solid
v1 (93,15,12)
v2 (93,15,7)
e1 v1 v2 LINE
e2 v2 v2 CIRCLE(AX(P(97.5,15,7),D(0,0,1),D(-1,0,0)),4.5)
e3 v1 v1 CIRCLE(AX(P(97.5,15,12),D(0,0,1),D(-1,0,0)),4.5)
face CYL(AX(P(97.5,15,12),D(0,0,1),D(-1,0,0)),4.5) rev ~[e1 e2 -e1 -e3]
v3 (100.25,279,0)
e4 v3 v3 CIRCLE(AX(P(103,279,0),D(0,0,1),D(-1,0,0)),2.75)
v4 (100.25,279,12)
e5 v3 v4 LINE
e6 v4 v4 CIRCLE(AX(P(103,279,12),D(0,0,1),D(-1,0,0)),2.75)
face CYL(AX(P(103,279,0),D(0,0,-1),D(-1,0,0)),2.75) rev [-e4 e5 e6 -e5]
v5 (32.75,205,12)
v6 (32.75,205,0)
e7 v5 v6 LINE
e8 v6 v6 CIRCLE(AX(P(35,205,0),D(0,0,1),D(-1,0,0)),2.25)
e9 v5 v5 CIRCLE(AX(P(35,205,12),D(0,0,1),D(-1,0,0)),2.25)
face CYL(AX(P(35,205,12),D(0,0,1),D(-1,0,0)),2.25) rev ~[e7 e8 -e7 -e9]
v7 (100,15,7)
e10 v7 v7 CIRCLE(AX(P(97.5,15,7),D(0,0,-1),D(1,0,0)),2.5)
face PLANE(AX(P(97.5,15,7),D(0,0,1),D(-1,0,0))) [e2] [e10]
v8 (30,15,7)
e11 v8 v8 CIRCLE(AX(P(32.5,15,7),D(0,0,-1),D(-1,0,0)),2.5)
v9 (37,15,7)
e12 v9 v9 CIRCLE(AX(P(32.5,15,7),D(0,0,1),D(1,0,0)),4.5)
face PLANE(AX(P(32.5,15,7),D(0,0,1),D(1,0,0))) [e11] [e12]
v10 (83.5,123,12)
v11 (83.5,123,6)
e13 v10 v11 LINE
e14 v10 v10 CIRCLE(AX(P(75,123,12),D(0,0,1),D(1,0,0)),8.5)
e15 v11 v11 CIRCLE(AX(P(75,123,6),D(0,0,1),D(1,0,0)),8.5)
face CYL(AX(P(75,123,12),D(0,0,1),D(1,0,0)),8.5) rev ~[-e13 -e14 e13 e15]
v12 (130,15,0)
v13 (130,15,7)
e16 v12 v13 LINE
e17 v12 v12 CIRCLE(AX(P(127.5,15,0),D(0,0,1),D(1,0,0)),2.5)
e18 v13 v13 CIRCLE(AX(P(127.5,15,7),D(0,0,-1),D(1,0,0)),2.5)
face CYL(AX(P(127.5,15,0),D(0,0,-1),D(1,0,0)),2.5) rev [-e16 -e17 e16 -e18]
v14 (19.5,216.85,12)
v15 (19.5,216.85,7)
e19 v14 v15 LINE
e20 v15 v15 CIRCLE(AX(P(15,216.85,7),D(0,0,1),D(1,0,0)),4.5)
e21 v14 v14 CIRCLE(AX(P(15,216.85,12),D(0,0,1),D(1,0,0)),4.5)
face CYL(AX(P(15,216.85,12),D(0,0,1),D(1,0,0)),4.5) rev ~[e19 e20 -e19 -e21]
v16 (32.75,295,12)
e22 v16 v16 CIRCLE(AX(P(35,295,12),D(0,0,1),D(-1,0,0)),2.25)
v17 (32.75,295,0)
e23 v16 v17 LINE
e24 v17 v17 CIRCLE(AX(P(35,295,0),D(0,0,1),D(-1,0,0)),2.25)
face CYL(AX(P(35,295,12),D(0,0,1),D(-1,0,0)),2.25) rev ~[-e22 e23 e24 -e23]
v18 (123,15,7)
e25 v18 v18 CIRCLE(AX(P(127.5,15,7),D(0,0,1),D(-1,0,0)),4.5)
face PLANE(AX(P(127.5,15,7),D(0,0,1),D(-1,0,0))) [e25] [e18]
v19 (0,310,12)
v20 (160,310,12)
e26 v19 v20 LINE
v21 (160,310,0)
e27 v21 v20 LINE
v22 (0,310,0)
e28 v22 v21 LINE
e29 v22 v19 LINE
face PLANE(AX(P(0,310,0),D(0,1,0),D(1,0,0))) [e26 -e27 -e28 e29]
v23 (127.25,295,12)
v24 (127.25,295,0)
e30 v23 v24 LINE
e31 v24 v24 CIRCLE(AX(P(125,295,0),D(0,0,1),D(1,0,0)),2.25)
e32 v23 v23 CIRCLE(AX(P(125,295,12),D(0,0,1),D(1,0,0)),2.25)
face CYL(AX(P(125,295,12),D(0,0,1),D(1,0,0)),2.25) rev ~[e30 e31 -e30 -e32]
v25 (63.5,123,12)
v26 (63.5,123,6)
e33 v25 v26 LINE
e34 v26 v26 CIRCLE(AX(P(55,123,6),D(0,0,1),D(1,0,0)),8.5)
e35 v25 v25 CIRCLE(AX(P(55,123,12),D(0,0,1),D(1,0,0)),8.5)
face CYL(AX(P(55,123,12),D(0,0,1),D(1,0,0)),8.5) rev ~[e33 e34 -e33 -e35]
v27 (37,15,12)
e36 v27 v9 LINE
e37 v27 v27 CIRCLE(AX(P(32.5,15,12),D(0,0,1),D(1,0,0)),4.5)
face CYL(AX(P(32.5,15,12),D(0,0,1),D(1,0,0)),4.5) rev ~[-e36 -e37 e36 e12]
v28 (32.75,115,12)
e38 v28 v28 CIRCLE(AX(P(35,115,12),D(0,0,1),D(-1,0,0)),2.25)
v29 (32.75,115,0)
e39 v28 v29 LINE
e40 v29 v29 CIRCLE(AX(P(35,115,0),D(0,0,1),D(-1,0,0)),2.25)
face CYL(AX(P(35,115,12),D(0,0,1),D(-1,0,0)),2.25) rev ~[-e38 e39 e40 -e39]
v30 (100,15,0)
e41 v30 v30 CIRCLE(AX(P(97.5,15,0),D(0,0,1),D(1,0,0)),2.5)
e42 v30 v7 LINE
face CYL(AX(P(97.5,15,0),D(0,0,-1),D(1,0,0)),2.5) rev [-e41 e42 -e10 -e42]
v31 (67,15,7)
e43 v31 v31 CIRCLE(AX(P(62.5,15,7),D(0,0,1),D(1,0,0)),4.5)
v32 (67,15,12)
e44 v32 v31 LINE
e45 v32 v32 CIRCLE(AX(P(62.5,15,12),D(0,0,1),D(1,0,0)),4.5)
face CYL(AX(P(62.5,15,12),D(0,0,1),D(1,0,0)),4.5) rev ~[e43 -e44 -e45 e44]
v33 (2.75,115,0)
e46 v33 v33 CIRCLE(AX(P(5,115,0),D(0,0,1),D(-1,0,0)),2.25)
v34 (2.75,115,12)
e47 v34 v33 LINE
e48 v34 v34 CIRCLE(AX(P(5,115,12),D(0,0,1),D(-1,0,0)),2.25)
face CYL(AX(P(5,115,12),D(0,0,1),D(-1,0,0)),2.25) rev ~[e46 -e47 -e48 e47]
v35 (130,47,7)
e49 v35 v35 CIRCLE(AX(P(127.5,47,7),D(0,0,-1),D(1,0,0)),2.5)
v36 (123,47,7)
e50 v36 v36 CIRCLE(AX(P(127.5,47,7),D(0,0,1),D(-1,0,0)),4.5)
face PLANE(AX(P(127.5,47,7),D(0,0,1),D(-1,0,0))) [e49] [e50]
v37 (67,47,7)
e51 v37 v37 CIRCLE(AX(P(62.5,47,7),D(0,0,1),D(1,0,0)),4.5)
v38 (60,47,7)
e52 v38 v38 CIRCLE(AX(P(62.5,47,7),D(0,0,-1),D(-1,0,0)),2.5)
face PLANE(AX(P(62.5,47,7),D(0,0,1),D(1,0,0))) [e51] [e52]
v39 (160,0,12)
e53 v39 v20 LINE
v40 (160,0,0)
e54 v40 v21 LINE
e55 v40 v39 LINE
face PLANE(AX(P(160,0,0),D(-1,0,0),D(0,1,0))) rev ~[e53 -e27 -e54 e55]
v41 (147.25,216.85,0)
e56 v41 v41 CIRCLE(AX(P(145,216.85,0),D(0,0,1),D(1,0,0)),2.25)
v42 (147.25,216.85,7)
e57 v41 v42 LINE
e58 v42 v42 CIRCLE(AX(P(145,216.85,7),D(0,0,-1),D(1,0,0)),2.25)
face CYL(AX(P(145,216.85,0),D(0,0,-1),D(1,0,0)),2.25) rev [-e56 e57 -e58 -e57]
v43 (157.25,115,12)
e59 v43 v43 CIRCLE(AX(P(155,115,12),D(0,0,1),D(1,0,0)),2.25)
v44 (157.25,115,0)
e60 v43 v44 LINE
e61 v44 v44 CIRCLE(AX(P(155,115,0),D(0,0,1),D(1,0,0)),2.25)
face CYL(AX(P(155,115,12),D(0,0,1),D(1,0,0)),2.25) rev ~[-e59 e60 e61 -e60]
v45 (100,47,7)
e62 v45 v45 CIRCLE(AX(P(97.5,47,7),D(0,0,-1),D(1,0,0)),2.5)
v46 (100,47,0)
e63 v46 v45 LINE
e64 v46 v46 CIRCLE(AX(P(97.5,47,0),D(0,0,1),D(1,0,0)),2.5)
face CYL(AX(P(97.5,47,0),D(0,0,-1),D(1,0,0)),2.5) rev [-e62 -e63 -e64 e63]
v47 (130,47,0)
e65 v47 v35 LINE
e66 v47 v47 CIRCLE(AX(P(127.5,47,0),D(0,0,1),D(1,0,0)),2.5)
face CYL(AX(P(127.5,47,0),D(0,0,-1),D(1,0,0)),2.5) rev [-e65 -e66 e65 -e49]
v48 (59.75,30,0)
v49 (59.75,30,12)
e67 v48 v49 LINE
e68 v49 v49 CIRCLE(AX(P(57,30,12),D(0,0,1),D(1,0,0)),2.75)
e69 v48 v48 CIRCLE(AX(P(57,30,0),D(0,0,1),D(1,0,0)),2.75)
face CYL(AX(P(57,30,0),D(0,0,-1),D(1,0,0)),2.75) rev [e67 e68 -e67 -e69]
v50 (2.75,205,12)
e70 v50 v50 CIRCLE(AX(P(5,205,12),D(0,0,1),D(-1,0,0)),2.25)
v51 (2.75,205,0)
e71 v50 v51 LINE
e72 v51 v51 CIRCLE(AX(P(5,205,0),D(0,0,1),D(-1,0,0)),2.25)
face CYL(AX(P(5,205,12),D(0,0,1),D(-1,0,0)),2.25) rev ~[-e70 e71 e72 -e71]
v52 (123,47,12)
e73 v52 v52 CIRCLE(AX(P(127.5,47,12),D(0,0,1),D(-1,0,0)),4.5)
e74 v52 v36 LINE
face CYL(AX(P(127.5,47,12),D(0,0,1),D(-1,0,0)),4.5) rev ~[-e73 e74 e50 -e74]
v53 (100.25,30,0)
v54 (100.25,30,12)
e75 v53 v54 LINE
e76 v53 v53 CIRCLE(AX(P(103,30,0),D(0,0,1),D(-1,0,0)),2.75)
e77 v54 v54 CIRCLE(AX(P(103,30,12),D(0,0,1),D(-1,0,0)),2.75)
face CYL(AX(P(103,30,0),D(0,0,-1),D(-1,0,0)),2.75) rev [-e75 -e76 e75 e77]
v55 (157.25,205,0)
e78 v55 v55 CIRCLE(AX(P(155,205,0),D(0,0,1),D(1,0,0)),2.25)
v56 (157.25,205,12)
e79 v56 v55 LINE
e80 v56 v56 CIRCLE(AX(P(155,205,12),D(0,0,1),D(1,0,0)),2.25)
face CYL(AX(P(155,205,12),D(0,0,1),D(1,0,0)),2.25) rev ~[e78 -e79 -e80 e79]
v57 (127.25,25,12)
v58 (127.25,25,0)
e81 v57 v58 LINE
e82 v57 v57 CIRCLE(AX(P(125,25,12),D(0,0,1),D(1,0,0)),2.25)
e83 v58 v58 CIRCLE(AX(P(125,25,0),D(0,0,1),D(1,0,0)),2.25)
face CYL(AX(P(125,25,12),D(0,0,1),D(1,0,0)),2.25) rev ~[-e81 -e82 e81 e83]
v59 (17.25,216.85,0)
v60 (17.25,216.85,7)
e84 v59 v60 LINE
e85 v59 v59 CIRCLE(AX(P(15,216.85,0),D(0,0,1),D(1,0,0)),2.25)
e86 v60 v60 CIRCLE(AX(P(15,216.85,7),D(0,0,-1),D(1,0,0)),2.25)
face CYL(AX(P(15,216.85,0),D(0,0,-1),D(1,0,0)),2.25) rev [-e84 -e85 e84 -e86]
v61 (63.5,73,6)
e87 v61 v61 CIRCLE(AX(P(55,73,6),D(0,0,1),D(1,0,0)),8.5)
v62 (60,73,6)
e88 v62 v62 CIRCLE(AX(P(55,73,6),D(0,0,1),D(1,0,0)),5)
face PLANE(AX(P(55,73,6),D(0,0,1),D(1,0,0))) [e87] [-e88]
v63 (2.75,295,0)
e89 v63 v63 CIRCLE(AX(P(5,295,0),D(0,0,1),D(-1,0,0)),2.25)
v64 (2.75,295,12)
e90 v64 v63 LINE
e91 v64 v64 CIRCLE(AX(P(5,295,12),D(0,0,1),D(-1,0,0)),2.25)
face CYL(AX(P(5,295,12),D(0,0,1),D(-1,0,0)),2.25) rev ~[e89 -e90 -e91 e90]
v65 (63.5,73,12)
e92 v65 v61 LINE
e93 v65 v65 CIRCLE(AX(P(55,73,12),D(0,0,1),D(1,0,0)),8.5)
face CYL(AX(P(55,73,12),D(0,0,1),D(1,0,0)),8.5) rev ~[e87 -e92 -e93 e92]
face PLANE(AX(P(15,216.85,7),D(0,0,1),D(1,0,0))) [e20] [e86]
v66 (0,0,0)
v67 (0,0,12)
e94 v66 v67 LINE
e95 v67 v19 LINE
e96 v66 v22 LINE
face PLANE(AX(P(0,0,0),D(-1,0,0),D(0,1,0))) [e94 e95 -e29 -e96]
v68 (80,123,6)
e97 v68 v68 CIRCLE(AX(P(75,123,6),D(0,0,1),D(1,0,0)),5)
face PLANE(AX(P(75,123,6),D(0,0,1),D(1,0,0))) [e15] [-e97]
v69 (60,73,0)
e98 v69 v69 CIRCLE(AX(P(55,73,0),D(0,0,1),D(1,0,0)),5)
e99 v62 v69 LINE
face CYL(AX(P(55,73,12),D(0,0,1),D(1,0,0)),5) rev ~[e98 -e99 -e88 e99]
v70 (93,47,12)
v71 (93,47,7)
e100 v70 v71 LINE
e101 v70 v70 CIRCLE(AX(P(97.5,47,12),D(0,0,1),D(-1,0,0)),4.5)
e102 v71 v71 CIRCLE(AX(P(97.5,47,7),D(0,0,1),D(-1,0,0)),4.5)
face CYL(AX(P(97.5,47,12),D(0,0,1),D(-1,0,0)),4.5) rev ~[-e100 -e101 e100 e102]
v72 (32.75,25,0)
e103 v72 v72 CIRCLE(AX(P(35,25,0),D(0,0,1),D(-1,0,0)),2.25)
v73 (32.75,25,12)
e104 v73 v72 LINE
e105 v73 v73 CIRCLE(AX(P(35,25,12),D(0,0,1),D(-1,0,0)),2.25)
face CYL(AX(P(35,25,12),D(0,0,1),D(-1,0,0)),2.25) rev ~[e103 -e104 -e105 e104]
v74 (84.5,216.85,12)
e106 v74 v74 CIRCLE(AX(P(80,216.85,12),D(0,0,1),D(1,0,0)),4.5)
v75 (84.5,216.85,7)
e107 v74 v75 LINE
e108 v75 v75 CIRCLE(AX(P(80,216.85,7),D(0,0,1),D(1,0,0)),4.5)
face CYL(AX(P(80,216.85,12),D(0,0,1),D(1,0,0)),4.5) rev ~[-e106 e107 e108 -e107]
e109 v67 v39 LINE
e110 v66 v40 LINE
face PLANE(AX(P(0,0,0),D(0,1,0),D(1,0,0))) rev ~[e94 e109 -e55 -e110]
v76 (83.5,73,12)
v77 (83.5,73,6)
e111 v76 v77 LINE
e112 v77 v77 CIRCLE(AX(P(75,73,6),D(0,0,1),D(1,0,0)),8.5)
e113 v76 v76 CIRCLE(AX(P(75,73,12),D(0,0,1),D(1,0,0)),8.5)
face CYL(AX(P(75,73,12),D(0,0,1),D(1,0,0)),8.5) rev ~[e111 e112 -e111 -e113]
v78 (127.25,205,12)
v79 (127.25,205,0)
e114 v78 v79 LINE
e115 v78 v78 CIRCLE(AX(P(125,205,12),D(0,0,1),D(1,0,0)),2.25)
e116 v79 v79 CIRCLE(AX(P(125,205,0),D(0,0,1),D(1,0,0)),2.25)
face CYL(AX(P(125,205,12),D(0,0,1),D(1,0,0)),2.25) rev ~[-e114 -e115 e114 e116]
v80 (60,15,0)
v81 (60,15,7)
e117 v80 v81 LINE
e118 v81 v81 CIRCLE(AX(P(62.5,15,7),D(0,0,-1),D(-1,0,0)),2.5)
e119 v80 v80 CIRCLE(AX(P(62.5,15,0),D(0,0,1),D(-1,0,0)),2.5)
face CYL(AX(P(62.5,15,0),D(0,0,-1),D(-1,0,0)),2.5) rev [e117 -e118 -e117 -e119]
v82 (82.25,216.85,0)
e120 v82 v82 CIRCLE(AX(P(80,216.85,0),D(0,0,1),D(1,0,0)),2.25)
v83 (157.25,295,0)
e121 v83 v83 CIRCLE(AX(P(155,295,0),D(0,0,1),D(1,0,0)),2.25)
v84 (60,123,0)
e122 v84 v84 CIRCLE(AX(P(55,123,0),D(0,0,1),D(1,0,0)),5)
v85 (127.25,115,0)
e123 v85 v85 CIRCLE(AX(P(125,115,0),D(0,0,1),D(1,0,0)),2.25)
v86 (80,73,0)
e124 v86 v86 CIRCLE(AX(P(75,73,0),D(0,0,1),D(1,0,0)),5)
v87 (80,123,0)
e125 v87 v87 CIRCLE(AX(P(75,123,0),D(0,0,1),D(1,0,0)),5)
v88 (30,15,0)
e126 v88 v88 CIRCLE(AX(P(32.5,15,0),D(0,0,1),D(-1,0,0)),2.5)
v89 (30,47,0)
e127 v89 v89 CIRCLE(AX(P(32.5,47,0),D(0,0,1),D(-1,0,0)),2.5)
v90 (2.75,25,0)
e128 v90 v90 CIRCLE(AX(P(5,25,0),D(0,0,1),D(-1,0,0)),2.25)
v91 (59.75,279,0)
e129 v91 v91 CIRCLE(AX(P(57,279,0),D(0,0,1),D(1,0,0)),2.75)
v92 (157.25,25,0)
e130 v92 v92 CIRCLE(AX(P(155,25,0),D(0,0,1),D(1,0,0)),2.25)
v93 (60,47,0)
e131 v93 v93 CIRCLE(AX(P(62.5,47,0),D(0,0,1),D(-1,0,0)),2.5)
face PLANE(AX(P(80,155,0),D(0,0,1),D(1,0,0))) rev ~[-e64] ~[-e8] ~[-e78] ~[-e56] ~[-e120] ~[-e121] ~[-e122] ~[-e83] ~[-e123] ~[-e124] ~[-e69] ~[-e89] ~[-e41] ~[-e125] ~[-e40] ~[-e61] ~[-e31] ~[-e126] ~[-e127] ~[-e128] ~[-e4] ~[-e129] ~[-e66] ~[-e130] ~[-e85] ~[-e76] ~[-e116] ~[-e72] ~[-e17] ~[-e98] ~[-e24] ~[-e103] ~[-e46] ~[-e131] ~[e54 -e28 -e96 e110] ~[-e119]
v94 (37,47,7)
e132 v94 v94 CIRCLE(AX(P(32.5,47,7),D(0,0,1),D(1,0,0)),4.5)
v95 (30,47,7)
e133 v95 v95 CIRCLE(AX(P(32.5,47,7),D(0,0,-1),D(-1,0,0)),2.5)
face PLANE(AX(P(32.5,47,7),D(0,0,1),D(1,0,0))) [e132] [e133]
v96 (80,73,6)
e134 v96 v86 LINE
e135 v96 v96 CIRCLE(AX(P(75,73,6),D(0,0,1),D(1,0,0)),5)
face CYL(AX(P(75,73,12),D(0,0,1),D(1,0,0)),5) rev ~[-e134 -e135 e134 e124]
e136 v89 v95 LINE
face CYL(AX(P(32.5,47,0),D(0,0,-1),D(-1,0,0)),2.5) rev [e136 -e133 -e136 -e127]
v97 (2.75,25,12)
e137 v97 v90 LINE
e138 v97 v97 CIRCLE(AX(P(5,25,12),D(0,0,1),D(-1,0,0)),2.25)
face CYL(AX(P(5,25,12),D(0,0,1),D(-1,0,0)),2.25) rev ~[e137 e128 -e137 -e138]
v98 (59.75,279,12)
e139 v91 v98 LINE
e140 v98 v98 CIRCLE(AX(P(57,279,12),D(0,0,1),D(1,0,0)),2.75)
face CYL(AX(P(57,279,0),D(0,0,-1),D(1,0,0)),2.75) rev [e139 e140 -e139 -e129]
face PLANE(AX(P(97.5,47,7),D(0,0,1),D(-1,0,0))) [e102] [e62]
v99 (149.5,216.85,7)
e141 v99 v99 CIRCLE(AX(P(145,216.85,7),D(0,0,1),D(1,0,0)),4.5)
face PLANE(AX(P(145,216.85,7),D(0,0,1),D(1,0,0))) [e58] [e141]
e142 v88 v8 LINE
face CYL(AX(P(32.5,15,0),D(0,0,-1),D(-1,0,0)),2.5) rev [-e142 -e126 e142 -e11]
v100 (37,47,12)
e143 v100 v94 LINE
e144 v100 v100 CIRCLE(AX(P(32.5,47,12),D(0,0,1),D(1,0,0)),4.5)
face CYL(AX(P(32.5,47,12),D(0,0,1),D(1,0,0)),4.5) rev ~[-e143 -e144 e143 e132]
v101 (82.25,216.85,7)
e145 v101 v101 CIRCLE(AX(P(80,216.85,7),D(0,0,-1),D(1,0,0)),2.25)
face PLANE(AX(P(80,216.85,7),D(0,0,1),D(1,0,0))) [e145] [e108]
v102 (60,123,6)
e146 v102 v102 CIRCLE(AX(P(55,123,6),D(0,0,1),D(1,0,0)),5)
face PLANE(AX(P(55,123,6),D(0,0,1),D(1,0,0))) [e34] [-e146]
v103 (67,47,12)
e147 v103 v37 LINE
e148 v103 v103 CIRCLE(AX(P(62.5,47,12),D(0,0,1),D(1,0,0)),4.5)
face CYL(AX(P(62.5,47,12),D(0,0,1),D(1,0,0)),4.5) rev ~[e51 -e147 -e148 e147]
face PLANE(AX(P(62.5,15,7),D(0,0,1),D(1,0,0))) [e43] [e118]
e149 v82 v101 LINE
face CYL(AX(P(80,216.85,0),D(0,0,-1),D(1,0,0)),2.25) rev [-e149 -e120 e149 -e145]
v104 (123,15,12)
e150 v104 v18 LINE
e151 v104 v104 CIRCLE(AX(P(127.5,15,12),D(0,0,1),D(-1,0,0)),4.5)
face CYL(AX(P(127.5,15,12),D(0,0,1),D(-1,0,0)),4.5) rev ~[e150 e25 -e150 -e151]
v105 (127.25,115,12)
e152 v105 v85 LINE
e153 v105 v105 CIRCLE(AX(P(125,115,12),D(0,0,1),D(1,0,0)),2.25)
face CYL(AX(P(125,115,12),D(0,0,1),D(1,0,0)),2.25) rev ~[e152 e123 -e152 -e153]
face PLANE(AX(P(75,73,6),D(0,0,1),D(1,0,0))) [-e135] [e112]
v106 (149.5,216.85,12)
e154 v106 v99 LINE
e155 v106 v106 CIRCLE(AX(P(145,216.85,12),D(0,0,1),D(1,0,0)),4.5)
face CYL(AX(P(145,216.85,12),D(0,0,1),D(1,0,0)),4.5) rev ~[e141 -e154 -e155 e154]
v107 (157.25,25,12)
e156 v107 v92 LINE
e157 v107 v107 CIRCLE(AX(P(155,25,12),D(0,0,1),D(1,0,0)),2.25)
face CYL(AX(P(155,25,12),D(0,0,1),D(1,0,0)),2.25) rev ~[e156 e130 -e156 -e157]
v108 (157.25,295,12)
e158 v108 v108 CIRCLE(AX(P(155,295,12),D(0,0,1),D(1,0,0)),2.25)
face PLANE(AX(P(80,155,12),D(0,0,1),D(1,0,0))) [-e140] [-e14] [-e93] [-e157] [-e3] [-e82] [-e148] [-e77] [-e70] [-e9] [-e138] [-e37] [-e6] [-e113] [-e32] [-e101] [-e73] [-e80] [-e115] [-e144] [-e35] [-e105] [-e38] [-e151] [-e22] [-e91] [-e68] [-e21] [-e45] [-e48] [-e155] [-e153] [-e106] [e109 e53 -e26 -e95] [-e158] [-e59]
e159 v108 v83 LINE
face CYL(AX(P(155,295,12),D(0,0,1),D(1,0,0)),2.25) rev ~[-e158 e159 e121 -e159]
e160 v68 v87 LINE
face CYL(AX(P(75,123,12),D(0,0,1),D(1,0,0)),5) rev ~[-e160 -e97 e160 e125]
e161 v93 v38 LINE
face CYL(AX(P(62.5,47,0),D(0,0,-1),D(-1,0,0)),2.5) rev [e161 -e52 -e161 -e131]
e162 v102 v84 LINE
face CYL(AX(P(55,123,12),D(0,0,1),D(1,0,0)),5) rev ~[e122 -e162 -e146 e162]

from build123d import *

# Parameters (mm, degrees)
ESQUISSE1_W             = 160
ESQUISSE1_H             = 310
ESQUISSE1_R             = 2.5
ESQUISSE1_R_2           = 2.75
ESQUISSE1_R_3           = 2.25
BOSS_EXTRU_1_DEPTH      = 12
ESQUISSE2_R             = 4.5
ENL_V_MAT_EXTRU_1_DEPTH = 5
ENL_V_MAT_EXTRU_2_REACH = 351.062
ESQUISSE3_R             = 2.25
ENL_V_MAT_EXTRU_3_REACH = 351.062
ESQUISSE4_R             = 5
ESQUISSE5_R             = 8.5
ENL_V_MAT_EXTRU_4_DEPTH = 6


with BuildPart() as part:
    # Esquisse1 → Boss.-Extru.1 (new body)
    with BuildSketch(Plane.XY):
        with Locations((80, 155)):
            Rectangle(ESQUISSE1_W, ESQUISSE1_H)
        with Locations((97.5, 15)):
            Circle(ESQUISSE1_R, mode=Mode.SUBTRACT)
        with Locations((127.5, 15)):
            Circle(ESQUISSE1_R, mode=Mode.SUBTRACT)
        with Locations((97.5, 47)):
            Circle(ESQUISSE1_R, mode=Mode.SUBTRACT)
        with Locations((127.5, 47)):
            Circle(ESQUISSE1_R, mode=Mode.SUBTRACT)
        with Locations(Location((62.5, 47, 0), (0, 0, 180))):
            Circle(ESQUISSE1_R, mode=Mode.SUBTRACT)
        with Locations(Location((32.5, 47, 0), (0, 0, 180))):
            Circle(ESQUISSE1_R, mode=Mode.SUBTRACT)
        with Locations(Location((32.5, 15, 0), (0, 0, 180))):
            Circle(ESQUISSE1_R, mode=Mode.SUBTRACT)
        with Locations(Location((62.5, 15, 0), (0, 0, 180))):
            Circle(ESQUISSE1_R, mode=Mode.SUBTRACT)
        with Locations((57, 30)):
            Circle(ESQUISSE1_R_2, mode=Mode.SUBTRACT)
        with Locations(Location((103, 30, 0), (0, 0, 180))):
            Circle(ESQUISSE1_R_2, mode=Mode.SUBTRACT)
        with Locations((57, 279)):
            Circle(ESQUISSE1_R_2, mode=Mode.SUBTRACT)
        with Locations(Location((103, 279, 0), (0, 0, 180))):
            Circle(ESQUISSE1_R_2, mode=Mode.SUBTRACT)
        with Locations((15, 216.85)):
            Circle(ESQUISSE1_R_3, mode=Mode.SUBTRACT)
        with Locations((80, 216.85)):
            Circle(ESQUISSE1_R_3, mode=Mode.SUBTRACT)
        with Locations((145, 216.85)):
            Circle(ESQUISSE1_R_3, mode=Mode.SUBTRACT)
    extrude(amount=BOSS_EXTRU_1_DEPTH)

    # Esquisse2 → Enlèv. mat.-Extru.1 (cut)
    with BuildSketch(Plane.XY.offset(12)):
        with Locations((32.5, 47)):
            Circle(ESQUISSE2_R)
        with Locations((32.5, 15)):
            Circle(ESQUISSE2_R)
        with Locations((62.5, 15)):
            Circle(ESQUISSE2_R)
        with Locations((62.5, 47)):
            Circle(ESQUISSE2_R)
        with Locations(Location((127.5, 15, 0), (0, 0, 180))):
            Circle(ESQUISSE2_R)
        with Locations(Location((97.5, 15, 0), (0, 0, 180))):
            Circle(ESQUISSE2_R)
        with Locations(Location((97.5, 47, 0), (0, 0, 180))):
            Circle(ESQUISSE2_R)
        with Locations(Location((127.5, 47, 0), (0, 0, 180))):
            Circle(ESQUISSE2_R)
        with Locations((15, 216.85)):
            Circle(ESQUISSE2_R)
        with Locations((80, 216.85)):
            Circle(ESQUISSE2_R)
        with Locations((145, 216.85)):
            Circle(ESQUISSE2_R)
    extrude(amount=-ENL_V_MAT_EXTRU_1_DEPTH, mode=Mode.SUBTRACT)

    # Esquisse3 → Enlèv. mat.-Extru.2 (cut, up to next)
    with BuildSketch(Plane.XY.offset(12), mode=Mode.PRIVATE) as enl_v_mat_extru_2_sk1:
        with Locations((155, 25)):
            Circle(ESQUISSE3_R)
    enl_v_mat_extru_2_tool1 = extrude(enl_v_mat_extru_2_sk1.sketch, amount=-ENL_V_MAT_EXTRU_2_REACH, mode=Mode.PRIVATE) & part.part
    # Esquisse3 → Enlèv. mat.-Extru.2 (cut, up to next)
    with BuildSketch(Plane.XY.offset(12), mode=Mode.PRIVATE) as enl_v_mat_extru_2_sk2:
        with Locations((125, 25)):
            Circle(ESQUISSE3_R)
    enl_v_mat_extru_2_tool2 = extrude(enl_v_mat_extru_2_sk2.sketch, amount=-ENL_V_MAT_EXTRU_2_REACH, mode=Mode.PRIVATE) & part.part
    # Esquisse3 → Enlèv. mat.-Extru.2 (cut, up to next)
    with BuildSketch(Plane.XY.offset(12), mode=Mode.PRIVATE) as enl_v_mat_extru_2_sk3:
        with Locations((125, 115)):
            Circle(ESQUISSE3_R)
    enl_v_mat_extru_2_tool3 = extrude(enl_v_mat_extru_2_sk3.sketch, amount=-ENL_V_MAT_EXTRU_2_REACH, mode=Mode.PRIVATE) & part.part
    # Esquisse3 → Enlèv. mat.-Extru.2 (cut, up to next)
    with BuildSketch(Plane.XY.offset(12), mode=Mode.PRIVATE) as enl_v_mat_extru_2_sk4:
        with Locations((125, 205)):
            Circle(ESQUISSE3_R)
    enl_v_mat_extru_2_tool4 = extrude(enl_v_mat_extru_2_sk4.sketch, amount=-ENL_V_MAT_EXTRU_2_REACH, mode=Mode.PRIVATE) & part.part
    # Esquisse3 → Enlèv. mat.-Extru.2 (cut, up to next)
    with BuildSketch(Plane.XY.offset(12), mode=Mode.PRIVATE) as enl_v_mat_extru_2_sk5:
        with Locations((125, 295)):
            Circle(ESQUISSE3_R)
    enl_v_mat_extru_2_tool5 = extrude(enl_v_mat_extru_2_sk5.sketch, amount=-ENL_V_MAT_EXTRU_2_REACH, mode=Mode.PRIVATE) & part.part
    # Esquisse3 → Enlèv. mat.-Extru.2 (cut, up to next)
    with BuildSketch(Plane.XY.offset(12), mode=Mode.PRIVATE) as enl_v_mat_extru_2_sk6:
        with Locations((155, 115)):
            Circle(ESQUISSE3_R)
    enl_v_mat_extru_2_tool6 = extrude(enl_v_mat_extru_2_sk6.sketch, amount=-ENL_V_MAT_EXTRU_2_REACH, mode=Mode.PRIVATE) & part.part
    # Esquisse3 → Enlèv. mat.-Extru.2 (cut, up to next)
    with BuildSketch(Plane.XY.offset(12), mode=Mode.PRIVATE) as enl_v_mat_extru_2_sk7:
        with Locations((155, 205)):
            Circle(ESQUISSE3_R)
    enl_v_mat_extru_2_tool7 = extrude(enl_v_mat_extru_2_sk7.sketch, amount=-ENL_V_MAT_EXTRU_2_REACH, mode=Mode.PRIVATE) & part.part
    # Esquisse3 → Enlèv. mat.-Extru.2 (cut, up to next)
    with BuildSketch(Plane.XY.offset(12), mode=Mode.PRIVATE) as enl_v_mat_extru_2_sk8:
        with Locations((155, 295)):
            Circle(ESQUISSE3_R)
    enl_v_mat_extru_2_tool8 = extrude(enl_v_mat_extru_2_sk8.sketch, amount=-ENL_V_MAT_EXTRU_2_REACH, mode=Mode.PRIVATE) & part.part
    # Esquisse3 → Enlèv. mat.-Extru.2 (cut, up to next)
    with BuildSketch(Plane.XY.offset(12), mode=Mode.PRIVATE) as enl_v_mat_extru_2_sk9:
        with Locations(Location((5, 295, 0), (0, 0, 180))):
            Circle(ESQUISSE3_R)
    enl_v_mat_extru_2_tool9 = extrude(enl_v_mat_extru_2_sk9.sketch, amount=-ENL_V_MAT_EXTRU_2_REACH, mode=Mode.PRIVATE) & part.part
    # Esquisse3 → Enlèv. mat.-Extru.2 (cut, up to next)
    with BuildSketch(Plane.XY.offset(12), mode=Mode.PRIVATE) as enl_v_mat_extru_2_sk10:
        with Locations(Location((35, 295, 0), (0, 0, 180))):
            Circle(ESQUISSE3_R)
    enl_v_mat_extru_2_tool10 = extrude(enl_v_mat_extru_2_sk10.sketch, amount=-ENL_V_MAT_EXTRU_2_REACH, mode=Mode.PRIVATE) & part.part
    # Esquisse3 → Enlèv. mat.-Extru.2 (cut, up to next)
    with BuildSketch(Plane.XY.offset(12), mode=Mode.PRIVATE) as enl_v_mat_extru_2_sk11:
        with Locations(Location((5, 205, 0), (0, 0, 180))):
            Circle(ESQUISSE3_R)
    enl_v_mat_extru_2_tool11 = extrude(enl_v_mat_extru_2_sk11.sketch, amount=-ENL_V_MAT_EXTRU_2_REACH, mode=Mode.PRIVATE) & part.part
    # Esquisse3 → Enlèv. mat.-Extru.2 (cut, up to next)
    with BuildSketch(Plane.XY.offset(12), mode=Mode.PRIVATE) as enl_v_mat_extru_2_sk12:
        with Locations(Location((35, 205, 0), (0, 0, 180))):
            Circle(ESQUISSE3_R)
    enl_v_mat_extru_2_tool12 = extrude(enl_v_mat_extru_2_sk12.sketch, amount=-ENL_V_MAT_EXTRU_2_REACH, mode=Mode.PRIVATE) & part.part
    # Esquisse3 → Enlèv. mat.-Extru.2 (cut, up to next)
    with BuildSketch(Plane.XY.offset(12), mode=Mode.PRIVATE) as enl_v_mat_extru_2_sk13:
        with Locations(Location((35, 115, 0), (0, 0, 180))):
            Circle(ESQUISSE3_R)
    enl_v_mat_extru_2_tool13 = extrude(enl_v_mat_extru_2_sk13.sketch, amount=-ENL_V_MAT_EXTRU_2_REACH, mode=Mode.PRIVATE) & part.part
    # Esquisse3 → Enlèv. mat.-Extru.2 (cut, up to next)
    with BuildSketch(Plane.XY.offset(12), mode=Mode.PRIVATE) as enl_v_mat_extru_2_sk14:
        with Locations(Location((5, 115, 0), (0, 0, 180))):
            Circle(ESQUISSE3_R)
    enl_v_mat_extru_2_tool14 = extrude(enl_v_mat_extru_2_sk14.sketch, amount=-ENL_V_MAT_EXTRU_2_REACH, mode=Mode.PRIVATE) & part.part
    # Esquisse3 → Enlèv. mat.-Extru.2 (cut, up to next)
    with BuildSketch(Plane.XY.offset(12), mode=Mode.PRIVATE) as enl_v_mat_extru_2_sk15:
        with Locations(Location((35, 25, 0), (0, 0, 180))):
            Circle(ESQUISSE3_R)
    enl_v_mat_extru_2_tool15 = extrude(enl_v_mat_extru_2_sk15.sketch, amount=-ENL_V_MAT_EXTRU_2_REACH, mode=Mode.PRIVATE) & part.part
    # Esquisse3 → Enlèv. mat.-Extru.2 (cut, up to next)
    with BuildSketch(Plane.XY.offset(12), mode=Mode.PRIVATE) as enl_v_mat_extru_2_sk16:
        with Locations(Location((5, 25, 0), (0, 0, 180))):
            Circle(ESQUISSE3_R)
    enl_v_mat_extru_2_tool16 = extrude(enl_v_mat_extru_2_sk16.sketch, amount=-ENL_V_MAT_EXTRU_2_REACH, mode=Mode.PRIVATE) & part.part
    add(enl_v_mat_extru_2_tool1.solids().sort_by_distance((155, 25, 12))[0], mode=Mode.SUBTRACT)
    add(enl_v_mat_extru_2_tool2.solids().sort_by_distance((125, 25, 12))[0], mode=Mode.SUBTRACT)
    add(enl_v_mat_extru_2_tool3.solids().sort_by_distance((125, 115, 12))[0], mode=Mode.SUBTRACT)
    add(enl_v_mat_extru_2_tool4.solids().sort_by_distance((125, 205, 12))[0], mode=Mode.SUBTRACT)
    add(enl_v_mat_extru_2_tool5.solids().sort_by_distance((125, 295, 12))[0], mode=Mode.SUBTRACT)
    add(enl_v_mat_extru_2_tool6.solids().sort_by_distance((155, 115, 12))[0], mode=Mode.SUBTRACT)
    add(enl_v_mat_extru_2_tool7.solids().sort_by_distance((155, 205, 12))[0], mode=Mode.SUBTRACT)
    add(enl_v_mat_extru_2_tool8.solids().sort_by_distance((155, 295, 12))[0], mode=Mode.SUBTRACT)
    add(enl_v_mat_extru_2_tool9.solids().sort_by_distance((5, 295, 12))[0], mode=Mode.SUBTRACT)
    add(enl_v_mat_extru_2_tool10.solids().sort_by_distance((35, 295, 12))[0], mode=Mode.SUBTRACT)
    add(enl_v_mat_extru_2_tool11.solids().sort_by_distance((5, 205, 12))[0], mode=Mode.SUBTRACT)
    add(enl_v_mat_extru_2_tool12.solids().sort_by_distance((35, 205, 12))[0], mode=Mode.SUBTRACT)
    add(enl_v_mat_extru_2_tool13.solids().sort_by_distance((35, 115, 12))[0], mode=Mode.SUBTRACT)
    add(enl_v_mat_extru_2_tool14.solids().sort_by_distance((5, 115, 12))[0], mode=Mode.SUBTRACT)
    add(enl_v_mat_extru_2_tool15.solids().sort_by_distance((35, 25, 12))[0], mode=Mode.SUBTRACT)
    add(enl_v_mat_extru_2_tool16.solids().sort_by_distance((5, 25, 12))[0], mode=Mode.SUBTRACT)

    # Esquisse4 → Enlèv. mat.-Extru.3 (cut, up to next)
    with BuildSketch(Plane.XY.offset(12), mode=Mode.PRIVATE) as enl_v_mat_extru_3_sk1:
        with Locations((55, 73)):
            Circle(ESQUISSE4_R)
    enl_v_mat_extru_3_tool1 = extrude(enl_v_mat_extru_3_sk1.sketch, amount=-ENL_V_MAT_EXTRU_3_REACH, mode=Mode.PRIVATE) & part.part
    # Esquisse4 → Enlèv. mat.-Extru.3 (cut, up to next)
    with BuildSketch(Plane.XY.offset(12), mode=Mode.PRIVATE) as enl_v_mat_extru_3_sk2:
        with Locations((75, 73)):
            Circle(ESQUISSE4_R)
    enl_v_mat_extru_3_tool2 = extrude(enl_v_mat_extru_3_sk2.sketch, amount=-ENL_V_MAT_EXTRU_3_REACH, mode=Mode.PRIVATE) & part.part
    # Esquisse4 → Enlèv. mat.-Extru.3 (cut, up to next)
    with BuildSketch(Plane.XY.offset(12), mode=Mode.PRIVATE) as enl_v_mat_extru_3_sk3:
        with Locations((75, 123)):
            Circle(ESQUISSE4_R)
    enl_v_mat_extru_3_tool3 = extrude(enl_v_mat_extru_3_sk3.sketch, amount=-ENL_V_MAT_EXTRU_3_REACH, mode=Mode.PRIVATE) & part.part
    # Esquisse4 → Enlèv. mat.-Extru.3 (cut, up to next)
    with BuildSketch(Plane.XY.offset(12), mode=Mode.PRIVATE) as enl_v_mat_extru_3_sk4:
        with Locations((55, 123)):
            Circle(ESQUISSE4_R)
    enl_v_mat_extru_3_tool4 = extrude(enl_v_mat_extru_3_sk4.sketch, amount=-ENL_V_MAT_EXTRU_3_REACH, mode=Mode.PRIVATE) & part.part
    add(enl_v_mat_extru_3_tool1.solids().sort_by_distance((55, 73, 12))[0], mode=Mode.SUBTRACT)
    add(enl_v_mat_extru_3_tool2.solids().sort_by_distance((75, 73, 12))[0], mode=Mode.SUBTRACT)
    add(enl_v_mat_extru_3_tool3.solids().sort_by_distance((75, 123, 12))[0], mode=Mode.SUBTRACT)
    add(enl_v_mat_extru_3_tool4.solids().sort_by_distance((55, 123, 12))[0], mode=Mode.SUBTRACT)

    # Esquisse5 → Enlèv. mat.-Extru.4 (cut)
    with BuildSketch(Plane.XY.offset(12)):
        with Locations((55, 123)):
            Circle(ESQUISSE5_R)
        with Locations((75, 123)):
            Circle(ESQUISSE5_R)
        with Locations((75, 73)):
            Circle(ESQUISSE5_R)
        with Locations((55, 73)):
            Circle(ESQUISSE5_R)
    extrude(amount=-ENL_V_MAT_EXTRU_4_DEPTH, mode=Mode.SUBTRACT)


solid = part.part
